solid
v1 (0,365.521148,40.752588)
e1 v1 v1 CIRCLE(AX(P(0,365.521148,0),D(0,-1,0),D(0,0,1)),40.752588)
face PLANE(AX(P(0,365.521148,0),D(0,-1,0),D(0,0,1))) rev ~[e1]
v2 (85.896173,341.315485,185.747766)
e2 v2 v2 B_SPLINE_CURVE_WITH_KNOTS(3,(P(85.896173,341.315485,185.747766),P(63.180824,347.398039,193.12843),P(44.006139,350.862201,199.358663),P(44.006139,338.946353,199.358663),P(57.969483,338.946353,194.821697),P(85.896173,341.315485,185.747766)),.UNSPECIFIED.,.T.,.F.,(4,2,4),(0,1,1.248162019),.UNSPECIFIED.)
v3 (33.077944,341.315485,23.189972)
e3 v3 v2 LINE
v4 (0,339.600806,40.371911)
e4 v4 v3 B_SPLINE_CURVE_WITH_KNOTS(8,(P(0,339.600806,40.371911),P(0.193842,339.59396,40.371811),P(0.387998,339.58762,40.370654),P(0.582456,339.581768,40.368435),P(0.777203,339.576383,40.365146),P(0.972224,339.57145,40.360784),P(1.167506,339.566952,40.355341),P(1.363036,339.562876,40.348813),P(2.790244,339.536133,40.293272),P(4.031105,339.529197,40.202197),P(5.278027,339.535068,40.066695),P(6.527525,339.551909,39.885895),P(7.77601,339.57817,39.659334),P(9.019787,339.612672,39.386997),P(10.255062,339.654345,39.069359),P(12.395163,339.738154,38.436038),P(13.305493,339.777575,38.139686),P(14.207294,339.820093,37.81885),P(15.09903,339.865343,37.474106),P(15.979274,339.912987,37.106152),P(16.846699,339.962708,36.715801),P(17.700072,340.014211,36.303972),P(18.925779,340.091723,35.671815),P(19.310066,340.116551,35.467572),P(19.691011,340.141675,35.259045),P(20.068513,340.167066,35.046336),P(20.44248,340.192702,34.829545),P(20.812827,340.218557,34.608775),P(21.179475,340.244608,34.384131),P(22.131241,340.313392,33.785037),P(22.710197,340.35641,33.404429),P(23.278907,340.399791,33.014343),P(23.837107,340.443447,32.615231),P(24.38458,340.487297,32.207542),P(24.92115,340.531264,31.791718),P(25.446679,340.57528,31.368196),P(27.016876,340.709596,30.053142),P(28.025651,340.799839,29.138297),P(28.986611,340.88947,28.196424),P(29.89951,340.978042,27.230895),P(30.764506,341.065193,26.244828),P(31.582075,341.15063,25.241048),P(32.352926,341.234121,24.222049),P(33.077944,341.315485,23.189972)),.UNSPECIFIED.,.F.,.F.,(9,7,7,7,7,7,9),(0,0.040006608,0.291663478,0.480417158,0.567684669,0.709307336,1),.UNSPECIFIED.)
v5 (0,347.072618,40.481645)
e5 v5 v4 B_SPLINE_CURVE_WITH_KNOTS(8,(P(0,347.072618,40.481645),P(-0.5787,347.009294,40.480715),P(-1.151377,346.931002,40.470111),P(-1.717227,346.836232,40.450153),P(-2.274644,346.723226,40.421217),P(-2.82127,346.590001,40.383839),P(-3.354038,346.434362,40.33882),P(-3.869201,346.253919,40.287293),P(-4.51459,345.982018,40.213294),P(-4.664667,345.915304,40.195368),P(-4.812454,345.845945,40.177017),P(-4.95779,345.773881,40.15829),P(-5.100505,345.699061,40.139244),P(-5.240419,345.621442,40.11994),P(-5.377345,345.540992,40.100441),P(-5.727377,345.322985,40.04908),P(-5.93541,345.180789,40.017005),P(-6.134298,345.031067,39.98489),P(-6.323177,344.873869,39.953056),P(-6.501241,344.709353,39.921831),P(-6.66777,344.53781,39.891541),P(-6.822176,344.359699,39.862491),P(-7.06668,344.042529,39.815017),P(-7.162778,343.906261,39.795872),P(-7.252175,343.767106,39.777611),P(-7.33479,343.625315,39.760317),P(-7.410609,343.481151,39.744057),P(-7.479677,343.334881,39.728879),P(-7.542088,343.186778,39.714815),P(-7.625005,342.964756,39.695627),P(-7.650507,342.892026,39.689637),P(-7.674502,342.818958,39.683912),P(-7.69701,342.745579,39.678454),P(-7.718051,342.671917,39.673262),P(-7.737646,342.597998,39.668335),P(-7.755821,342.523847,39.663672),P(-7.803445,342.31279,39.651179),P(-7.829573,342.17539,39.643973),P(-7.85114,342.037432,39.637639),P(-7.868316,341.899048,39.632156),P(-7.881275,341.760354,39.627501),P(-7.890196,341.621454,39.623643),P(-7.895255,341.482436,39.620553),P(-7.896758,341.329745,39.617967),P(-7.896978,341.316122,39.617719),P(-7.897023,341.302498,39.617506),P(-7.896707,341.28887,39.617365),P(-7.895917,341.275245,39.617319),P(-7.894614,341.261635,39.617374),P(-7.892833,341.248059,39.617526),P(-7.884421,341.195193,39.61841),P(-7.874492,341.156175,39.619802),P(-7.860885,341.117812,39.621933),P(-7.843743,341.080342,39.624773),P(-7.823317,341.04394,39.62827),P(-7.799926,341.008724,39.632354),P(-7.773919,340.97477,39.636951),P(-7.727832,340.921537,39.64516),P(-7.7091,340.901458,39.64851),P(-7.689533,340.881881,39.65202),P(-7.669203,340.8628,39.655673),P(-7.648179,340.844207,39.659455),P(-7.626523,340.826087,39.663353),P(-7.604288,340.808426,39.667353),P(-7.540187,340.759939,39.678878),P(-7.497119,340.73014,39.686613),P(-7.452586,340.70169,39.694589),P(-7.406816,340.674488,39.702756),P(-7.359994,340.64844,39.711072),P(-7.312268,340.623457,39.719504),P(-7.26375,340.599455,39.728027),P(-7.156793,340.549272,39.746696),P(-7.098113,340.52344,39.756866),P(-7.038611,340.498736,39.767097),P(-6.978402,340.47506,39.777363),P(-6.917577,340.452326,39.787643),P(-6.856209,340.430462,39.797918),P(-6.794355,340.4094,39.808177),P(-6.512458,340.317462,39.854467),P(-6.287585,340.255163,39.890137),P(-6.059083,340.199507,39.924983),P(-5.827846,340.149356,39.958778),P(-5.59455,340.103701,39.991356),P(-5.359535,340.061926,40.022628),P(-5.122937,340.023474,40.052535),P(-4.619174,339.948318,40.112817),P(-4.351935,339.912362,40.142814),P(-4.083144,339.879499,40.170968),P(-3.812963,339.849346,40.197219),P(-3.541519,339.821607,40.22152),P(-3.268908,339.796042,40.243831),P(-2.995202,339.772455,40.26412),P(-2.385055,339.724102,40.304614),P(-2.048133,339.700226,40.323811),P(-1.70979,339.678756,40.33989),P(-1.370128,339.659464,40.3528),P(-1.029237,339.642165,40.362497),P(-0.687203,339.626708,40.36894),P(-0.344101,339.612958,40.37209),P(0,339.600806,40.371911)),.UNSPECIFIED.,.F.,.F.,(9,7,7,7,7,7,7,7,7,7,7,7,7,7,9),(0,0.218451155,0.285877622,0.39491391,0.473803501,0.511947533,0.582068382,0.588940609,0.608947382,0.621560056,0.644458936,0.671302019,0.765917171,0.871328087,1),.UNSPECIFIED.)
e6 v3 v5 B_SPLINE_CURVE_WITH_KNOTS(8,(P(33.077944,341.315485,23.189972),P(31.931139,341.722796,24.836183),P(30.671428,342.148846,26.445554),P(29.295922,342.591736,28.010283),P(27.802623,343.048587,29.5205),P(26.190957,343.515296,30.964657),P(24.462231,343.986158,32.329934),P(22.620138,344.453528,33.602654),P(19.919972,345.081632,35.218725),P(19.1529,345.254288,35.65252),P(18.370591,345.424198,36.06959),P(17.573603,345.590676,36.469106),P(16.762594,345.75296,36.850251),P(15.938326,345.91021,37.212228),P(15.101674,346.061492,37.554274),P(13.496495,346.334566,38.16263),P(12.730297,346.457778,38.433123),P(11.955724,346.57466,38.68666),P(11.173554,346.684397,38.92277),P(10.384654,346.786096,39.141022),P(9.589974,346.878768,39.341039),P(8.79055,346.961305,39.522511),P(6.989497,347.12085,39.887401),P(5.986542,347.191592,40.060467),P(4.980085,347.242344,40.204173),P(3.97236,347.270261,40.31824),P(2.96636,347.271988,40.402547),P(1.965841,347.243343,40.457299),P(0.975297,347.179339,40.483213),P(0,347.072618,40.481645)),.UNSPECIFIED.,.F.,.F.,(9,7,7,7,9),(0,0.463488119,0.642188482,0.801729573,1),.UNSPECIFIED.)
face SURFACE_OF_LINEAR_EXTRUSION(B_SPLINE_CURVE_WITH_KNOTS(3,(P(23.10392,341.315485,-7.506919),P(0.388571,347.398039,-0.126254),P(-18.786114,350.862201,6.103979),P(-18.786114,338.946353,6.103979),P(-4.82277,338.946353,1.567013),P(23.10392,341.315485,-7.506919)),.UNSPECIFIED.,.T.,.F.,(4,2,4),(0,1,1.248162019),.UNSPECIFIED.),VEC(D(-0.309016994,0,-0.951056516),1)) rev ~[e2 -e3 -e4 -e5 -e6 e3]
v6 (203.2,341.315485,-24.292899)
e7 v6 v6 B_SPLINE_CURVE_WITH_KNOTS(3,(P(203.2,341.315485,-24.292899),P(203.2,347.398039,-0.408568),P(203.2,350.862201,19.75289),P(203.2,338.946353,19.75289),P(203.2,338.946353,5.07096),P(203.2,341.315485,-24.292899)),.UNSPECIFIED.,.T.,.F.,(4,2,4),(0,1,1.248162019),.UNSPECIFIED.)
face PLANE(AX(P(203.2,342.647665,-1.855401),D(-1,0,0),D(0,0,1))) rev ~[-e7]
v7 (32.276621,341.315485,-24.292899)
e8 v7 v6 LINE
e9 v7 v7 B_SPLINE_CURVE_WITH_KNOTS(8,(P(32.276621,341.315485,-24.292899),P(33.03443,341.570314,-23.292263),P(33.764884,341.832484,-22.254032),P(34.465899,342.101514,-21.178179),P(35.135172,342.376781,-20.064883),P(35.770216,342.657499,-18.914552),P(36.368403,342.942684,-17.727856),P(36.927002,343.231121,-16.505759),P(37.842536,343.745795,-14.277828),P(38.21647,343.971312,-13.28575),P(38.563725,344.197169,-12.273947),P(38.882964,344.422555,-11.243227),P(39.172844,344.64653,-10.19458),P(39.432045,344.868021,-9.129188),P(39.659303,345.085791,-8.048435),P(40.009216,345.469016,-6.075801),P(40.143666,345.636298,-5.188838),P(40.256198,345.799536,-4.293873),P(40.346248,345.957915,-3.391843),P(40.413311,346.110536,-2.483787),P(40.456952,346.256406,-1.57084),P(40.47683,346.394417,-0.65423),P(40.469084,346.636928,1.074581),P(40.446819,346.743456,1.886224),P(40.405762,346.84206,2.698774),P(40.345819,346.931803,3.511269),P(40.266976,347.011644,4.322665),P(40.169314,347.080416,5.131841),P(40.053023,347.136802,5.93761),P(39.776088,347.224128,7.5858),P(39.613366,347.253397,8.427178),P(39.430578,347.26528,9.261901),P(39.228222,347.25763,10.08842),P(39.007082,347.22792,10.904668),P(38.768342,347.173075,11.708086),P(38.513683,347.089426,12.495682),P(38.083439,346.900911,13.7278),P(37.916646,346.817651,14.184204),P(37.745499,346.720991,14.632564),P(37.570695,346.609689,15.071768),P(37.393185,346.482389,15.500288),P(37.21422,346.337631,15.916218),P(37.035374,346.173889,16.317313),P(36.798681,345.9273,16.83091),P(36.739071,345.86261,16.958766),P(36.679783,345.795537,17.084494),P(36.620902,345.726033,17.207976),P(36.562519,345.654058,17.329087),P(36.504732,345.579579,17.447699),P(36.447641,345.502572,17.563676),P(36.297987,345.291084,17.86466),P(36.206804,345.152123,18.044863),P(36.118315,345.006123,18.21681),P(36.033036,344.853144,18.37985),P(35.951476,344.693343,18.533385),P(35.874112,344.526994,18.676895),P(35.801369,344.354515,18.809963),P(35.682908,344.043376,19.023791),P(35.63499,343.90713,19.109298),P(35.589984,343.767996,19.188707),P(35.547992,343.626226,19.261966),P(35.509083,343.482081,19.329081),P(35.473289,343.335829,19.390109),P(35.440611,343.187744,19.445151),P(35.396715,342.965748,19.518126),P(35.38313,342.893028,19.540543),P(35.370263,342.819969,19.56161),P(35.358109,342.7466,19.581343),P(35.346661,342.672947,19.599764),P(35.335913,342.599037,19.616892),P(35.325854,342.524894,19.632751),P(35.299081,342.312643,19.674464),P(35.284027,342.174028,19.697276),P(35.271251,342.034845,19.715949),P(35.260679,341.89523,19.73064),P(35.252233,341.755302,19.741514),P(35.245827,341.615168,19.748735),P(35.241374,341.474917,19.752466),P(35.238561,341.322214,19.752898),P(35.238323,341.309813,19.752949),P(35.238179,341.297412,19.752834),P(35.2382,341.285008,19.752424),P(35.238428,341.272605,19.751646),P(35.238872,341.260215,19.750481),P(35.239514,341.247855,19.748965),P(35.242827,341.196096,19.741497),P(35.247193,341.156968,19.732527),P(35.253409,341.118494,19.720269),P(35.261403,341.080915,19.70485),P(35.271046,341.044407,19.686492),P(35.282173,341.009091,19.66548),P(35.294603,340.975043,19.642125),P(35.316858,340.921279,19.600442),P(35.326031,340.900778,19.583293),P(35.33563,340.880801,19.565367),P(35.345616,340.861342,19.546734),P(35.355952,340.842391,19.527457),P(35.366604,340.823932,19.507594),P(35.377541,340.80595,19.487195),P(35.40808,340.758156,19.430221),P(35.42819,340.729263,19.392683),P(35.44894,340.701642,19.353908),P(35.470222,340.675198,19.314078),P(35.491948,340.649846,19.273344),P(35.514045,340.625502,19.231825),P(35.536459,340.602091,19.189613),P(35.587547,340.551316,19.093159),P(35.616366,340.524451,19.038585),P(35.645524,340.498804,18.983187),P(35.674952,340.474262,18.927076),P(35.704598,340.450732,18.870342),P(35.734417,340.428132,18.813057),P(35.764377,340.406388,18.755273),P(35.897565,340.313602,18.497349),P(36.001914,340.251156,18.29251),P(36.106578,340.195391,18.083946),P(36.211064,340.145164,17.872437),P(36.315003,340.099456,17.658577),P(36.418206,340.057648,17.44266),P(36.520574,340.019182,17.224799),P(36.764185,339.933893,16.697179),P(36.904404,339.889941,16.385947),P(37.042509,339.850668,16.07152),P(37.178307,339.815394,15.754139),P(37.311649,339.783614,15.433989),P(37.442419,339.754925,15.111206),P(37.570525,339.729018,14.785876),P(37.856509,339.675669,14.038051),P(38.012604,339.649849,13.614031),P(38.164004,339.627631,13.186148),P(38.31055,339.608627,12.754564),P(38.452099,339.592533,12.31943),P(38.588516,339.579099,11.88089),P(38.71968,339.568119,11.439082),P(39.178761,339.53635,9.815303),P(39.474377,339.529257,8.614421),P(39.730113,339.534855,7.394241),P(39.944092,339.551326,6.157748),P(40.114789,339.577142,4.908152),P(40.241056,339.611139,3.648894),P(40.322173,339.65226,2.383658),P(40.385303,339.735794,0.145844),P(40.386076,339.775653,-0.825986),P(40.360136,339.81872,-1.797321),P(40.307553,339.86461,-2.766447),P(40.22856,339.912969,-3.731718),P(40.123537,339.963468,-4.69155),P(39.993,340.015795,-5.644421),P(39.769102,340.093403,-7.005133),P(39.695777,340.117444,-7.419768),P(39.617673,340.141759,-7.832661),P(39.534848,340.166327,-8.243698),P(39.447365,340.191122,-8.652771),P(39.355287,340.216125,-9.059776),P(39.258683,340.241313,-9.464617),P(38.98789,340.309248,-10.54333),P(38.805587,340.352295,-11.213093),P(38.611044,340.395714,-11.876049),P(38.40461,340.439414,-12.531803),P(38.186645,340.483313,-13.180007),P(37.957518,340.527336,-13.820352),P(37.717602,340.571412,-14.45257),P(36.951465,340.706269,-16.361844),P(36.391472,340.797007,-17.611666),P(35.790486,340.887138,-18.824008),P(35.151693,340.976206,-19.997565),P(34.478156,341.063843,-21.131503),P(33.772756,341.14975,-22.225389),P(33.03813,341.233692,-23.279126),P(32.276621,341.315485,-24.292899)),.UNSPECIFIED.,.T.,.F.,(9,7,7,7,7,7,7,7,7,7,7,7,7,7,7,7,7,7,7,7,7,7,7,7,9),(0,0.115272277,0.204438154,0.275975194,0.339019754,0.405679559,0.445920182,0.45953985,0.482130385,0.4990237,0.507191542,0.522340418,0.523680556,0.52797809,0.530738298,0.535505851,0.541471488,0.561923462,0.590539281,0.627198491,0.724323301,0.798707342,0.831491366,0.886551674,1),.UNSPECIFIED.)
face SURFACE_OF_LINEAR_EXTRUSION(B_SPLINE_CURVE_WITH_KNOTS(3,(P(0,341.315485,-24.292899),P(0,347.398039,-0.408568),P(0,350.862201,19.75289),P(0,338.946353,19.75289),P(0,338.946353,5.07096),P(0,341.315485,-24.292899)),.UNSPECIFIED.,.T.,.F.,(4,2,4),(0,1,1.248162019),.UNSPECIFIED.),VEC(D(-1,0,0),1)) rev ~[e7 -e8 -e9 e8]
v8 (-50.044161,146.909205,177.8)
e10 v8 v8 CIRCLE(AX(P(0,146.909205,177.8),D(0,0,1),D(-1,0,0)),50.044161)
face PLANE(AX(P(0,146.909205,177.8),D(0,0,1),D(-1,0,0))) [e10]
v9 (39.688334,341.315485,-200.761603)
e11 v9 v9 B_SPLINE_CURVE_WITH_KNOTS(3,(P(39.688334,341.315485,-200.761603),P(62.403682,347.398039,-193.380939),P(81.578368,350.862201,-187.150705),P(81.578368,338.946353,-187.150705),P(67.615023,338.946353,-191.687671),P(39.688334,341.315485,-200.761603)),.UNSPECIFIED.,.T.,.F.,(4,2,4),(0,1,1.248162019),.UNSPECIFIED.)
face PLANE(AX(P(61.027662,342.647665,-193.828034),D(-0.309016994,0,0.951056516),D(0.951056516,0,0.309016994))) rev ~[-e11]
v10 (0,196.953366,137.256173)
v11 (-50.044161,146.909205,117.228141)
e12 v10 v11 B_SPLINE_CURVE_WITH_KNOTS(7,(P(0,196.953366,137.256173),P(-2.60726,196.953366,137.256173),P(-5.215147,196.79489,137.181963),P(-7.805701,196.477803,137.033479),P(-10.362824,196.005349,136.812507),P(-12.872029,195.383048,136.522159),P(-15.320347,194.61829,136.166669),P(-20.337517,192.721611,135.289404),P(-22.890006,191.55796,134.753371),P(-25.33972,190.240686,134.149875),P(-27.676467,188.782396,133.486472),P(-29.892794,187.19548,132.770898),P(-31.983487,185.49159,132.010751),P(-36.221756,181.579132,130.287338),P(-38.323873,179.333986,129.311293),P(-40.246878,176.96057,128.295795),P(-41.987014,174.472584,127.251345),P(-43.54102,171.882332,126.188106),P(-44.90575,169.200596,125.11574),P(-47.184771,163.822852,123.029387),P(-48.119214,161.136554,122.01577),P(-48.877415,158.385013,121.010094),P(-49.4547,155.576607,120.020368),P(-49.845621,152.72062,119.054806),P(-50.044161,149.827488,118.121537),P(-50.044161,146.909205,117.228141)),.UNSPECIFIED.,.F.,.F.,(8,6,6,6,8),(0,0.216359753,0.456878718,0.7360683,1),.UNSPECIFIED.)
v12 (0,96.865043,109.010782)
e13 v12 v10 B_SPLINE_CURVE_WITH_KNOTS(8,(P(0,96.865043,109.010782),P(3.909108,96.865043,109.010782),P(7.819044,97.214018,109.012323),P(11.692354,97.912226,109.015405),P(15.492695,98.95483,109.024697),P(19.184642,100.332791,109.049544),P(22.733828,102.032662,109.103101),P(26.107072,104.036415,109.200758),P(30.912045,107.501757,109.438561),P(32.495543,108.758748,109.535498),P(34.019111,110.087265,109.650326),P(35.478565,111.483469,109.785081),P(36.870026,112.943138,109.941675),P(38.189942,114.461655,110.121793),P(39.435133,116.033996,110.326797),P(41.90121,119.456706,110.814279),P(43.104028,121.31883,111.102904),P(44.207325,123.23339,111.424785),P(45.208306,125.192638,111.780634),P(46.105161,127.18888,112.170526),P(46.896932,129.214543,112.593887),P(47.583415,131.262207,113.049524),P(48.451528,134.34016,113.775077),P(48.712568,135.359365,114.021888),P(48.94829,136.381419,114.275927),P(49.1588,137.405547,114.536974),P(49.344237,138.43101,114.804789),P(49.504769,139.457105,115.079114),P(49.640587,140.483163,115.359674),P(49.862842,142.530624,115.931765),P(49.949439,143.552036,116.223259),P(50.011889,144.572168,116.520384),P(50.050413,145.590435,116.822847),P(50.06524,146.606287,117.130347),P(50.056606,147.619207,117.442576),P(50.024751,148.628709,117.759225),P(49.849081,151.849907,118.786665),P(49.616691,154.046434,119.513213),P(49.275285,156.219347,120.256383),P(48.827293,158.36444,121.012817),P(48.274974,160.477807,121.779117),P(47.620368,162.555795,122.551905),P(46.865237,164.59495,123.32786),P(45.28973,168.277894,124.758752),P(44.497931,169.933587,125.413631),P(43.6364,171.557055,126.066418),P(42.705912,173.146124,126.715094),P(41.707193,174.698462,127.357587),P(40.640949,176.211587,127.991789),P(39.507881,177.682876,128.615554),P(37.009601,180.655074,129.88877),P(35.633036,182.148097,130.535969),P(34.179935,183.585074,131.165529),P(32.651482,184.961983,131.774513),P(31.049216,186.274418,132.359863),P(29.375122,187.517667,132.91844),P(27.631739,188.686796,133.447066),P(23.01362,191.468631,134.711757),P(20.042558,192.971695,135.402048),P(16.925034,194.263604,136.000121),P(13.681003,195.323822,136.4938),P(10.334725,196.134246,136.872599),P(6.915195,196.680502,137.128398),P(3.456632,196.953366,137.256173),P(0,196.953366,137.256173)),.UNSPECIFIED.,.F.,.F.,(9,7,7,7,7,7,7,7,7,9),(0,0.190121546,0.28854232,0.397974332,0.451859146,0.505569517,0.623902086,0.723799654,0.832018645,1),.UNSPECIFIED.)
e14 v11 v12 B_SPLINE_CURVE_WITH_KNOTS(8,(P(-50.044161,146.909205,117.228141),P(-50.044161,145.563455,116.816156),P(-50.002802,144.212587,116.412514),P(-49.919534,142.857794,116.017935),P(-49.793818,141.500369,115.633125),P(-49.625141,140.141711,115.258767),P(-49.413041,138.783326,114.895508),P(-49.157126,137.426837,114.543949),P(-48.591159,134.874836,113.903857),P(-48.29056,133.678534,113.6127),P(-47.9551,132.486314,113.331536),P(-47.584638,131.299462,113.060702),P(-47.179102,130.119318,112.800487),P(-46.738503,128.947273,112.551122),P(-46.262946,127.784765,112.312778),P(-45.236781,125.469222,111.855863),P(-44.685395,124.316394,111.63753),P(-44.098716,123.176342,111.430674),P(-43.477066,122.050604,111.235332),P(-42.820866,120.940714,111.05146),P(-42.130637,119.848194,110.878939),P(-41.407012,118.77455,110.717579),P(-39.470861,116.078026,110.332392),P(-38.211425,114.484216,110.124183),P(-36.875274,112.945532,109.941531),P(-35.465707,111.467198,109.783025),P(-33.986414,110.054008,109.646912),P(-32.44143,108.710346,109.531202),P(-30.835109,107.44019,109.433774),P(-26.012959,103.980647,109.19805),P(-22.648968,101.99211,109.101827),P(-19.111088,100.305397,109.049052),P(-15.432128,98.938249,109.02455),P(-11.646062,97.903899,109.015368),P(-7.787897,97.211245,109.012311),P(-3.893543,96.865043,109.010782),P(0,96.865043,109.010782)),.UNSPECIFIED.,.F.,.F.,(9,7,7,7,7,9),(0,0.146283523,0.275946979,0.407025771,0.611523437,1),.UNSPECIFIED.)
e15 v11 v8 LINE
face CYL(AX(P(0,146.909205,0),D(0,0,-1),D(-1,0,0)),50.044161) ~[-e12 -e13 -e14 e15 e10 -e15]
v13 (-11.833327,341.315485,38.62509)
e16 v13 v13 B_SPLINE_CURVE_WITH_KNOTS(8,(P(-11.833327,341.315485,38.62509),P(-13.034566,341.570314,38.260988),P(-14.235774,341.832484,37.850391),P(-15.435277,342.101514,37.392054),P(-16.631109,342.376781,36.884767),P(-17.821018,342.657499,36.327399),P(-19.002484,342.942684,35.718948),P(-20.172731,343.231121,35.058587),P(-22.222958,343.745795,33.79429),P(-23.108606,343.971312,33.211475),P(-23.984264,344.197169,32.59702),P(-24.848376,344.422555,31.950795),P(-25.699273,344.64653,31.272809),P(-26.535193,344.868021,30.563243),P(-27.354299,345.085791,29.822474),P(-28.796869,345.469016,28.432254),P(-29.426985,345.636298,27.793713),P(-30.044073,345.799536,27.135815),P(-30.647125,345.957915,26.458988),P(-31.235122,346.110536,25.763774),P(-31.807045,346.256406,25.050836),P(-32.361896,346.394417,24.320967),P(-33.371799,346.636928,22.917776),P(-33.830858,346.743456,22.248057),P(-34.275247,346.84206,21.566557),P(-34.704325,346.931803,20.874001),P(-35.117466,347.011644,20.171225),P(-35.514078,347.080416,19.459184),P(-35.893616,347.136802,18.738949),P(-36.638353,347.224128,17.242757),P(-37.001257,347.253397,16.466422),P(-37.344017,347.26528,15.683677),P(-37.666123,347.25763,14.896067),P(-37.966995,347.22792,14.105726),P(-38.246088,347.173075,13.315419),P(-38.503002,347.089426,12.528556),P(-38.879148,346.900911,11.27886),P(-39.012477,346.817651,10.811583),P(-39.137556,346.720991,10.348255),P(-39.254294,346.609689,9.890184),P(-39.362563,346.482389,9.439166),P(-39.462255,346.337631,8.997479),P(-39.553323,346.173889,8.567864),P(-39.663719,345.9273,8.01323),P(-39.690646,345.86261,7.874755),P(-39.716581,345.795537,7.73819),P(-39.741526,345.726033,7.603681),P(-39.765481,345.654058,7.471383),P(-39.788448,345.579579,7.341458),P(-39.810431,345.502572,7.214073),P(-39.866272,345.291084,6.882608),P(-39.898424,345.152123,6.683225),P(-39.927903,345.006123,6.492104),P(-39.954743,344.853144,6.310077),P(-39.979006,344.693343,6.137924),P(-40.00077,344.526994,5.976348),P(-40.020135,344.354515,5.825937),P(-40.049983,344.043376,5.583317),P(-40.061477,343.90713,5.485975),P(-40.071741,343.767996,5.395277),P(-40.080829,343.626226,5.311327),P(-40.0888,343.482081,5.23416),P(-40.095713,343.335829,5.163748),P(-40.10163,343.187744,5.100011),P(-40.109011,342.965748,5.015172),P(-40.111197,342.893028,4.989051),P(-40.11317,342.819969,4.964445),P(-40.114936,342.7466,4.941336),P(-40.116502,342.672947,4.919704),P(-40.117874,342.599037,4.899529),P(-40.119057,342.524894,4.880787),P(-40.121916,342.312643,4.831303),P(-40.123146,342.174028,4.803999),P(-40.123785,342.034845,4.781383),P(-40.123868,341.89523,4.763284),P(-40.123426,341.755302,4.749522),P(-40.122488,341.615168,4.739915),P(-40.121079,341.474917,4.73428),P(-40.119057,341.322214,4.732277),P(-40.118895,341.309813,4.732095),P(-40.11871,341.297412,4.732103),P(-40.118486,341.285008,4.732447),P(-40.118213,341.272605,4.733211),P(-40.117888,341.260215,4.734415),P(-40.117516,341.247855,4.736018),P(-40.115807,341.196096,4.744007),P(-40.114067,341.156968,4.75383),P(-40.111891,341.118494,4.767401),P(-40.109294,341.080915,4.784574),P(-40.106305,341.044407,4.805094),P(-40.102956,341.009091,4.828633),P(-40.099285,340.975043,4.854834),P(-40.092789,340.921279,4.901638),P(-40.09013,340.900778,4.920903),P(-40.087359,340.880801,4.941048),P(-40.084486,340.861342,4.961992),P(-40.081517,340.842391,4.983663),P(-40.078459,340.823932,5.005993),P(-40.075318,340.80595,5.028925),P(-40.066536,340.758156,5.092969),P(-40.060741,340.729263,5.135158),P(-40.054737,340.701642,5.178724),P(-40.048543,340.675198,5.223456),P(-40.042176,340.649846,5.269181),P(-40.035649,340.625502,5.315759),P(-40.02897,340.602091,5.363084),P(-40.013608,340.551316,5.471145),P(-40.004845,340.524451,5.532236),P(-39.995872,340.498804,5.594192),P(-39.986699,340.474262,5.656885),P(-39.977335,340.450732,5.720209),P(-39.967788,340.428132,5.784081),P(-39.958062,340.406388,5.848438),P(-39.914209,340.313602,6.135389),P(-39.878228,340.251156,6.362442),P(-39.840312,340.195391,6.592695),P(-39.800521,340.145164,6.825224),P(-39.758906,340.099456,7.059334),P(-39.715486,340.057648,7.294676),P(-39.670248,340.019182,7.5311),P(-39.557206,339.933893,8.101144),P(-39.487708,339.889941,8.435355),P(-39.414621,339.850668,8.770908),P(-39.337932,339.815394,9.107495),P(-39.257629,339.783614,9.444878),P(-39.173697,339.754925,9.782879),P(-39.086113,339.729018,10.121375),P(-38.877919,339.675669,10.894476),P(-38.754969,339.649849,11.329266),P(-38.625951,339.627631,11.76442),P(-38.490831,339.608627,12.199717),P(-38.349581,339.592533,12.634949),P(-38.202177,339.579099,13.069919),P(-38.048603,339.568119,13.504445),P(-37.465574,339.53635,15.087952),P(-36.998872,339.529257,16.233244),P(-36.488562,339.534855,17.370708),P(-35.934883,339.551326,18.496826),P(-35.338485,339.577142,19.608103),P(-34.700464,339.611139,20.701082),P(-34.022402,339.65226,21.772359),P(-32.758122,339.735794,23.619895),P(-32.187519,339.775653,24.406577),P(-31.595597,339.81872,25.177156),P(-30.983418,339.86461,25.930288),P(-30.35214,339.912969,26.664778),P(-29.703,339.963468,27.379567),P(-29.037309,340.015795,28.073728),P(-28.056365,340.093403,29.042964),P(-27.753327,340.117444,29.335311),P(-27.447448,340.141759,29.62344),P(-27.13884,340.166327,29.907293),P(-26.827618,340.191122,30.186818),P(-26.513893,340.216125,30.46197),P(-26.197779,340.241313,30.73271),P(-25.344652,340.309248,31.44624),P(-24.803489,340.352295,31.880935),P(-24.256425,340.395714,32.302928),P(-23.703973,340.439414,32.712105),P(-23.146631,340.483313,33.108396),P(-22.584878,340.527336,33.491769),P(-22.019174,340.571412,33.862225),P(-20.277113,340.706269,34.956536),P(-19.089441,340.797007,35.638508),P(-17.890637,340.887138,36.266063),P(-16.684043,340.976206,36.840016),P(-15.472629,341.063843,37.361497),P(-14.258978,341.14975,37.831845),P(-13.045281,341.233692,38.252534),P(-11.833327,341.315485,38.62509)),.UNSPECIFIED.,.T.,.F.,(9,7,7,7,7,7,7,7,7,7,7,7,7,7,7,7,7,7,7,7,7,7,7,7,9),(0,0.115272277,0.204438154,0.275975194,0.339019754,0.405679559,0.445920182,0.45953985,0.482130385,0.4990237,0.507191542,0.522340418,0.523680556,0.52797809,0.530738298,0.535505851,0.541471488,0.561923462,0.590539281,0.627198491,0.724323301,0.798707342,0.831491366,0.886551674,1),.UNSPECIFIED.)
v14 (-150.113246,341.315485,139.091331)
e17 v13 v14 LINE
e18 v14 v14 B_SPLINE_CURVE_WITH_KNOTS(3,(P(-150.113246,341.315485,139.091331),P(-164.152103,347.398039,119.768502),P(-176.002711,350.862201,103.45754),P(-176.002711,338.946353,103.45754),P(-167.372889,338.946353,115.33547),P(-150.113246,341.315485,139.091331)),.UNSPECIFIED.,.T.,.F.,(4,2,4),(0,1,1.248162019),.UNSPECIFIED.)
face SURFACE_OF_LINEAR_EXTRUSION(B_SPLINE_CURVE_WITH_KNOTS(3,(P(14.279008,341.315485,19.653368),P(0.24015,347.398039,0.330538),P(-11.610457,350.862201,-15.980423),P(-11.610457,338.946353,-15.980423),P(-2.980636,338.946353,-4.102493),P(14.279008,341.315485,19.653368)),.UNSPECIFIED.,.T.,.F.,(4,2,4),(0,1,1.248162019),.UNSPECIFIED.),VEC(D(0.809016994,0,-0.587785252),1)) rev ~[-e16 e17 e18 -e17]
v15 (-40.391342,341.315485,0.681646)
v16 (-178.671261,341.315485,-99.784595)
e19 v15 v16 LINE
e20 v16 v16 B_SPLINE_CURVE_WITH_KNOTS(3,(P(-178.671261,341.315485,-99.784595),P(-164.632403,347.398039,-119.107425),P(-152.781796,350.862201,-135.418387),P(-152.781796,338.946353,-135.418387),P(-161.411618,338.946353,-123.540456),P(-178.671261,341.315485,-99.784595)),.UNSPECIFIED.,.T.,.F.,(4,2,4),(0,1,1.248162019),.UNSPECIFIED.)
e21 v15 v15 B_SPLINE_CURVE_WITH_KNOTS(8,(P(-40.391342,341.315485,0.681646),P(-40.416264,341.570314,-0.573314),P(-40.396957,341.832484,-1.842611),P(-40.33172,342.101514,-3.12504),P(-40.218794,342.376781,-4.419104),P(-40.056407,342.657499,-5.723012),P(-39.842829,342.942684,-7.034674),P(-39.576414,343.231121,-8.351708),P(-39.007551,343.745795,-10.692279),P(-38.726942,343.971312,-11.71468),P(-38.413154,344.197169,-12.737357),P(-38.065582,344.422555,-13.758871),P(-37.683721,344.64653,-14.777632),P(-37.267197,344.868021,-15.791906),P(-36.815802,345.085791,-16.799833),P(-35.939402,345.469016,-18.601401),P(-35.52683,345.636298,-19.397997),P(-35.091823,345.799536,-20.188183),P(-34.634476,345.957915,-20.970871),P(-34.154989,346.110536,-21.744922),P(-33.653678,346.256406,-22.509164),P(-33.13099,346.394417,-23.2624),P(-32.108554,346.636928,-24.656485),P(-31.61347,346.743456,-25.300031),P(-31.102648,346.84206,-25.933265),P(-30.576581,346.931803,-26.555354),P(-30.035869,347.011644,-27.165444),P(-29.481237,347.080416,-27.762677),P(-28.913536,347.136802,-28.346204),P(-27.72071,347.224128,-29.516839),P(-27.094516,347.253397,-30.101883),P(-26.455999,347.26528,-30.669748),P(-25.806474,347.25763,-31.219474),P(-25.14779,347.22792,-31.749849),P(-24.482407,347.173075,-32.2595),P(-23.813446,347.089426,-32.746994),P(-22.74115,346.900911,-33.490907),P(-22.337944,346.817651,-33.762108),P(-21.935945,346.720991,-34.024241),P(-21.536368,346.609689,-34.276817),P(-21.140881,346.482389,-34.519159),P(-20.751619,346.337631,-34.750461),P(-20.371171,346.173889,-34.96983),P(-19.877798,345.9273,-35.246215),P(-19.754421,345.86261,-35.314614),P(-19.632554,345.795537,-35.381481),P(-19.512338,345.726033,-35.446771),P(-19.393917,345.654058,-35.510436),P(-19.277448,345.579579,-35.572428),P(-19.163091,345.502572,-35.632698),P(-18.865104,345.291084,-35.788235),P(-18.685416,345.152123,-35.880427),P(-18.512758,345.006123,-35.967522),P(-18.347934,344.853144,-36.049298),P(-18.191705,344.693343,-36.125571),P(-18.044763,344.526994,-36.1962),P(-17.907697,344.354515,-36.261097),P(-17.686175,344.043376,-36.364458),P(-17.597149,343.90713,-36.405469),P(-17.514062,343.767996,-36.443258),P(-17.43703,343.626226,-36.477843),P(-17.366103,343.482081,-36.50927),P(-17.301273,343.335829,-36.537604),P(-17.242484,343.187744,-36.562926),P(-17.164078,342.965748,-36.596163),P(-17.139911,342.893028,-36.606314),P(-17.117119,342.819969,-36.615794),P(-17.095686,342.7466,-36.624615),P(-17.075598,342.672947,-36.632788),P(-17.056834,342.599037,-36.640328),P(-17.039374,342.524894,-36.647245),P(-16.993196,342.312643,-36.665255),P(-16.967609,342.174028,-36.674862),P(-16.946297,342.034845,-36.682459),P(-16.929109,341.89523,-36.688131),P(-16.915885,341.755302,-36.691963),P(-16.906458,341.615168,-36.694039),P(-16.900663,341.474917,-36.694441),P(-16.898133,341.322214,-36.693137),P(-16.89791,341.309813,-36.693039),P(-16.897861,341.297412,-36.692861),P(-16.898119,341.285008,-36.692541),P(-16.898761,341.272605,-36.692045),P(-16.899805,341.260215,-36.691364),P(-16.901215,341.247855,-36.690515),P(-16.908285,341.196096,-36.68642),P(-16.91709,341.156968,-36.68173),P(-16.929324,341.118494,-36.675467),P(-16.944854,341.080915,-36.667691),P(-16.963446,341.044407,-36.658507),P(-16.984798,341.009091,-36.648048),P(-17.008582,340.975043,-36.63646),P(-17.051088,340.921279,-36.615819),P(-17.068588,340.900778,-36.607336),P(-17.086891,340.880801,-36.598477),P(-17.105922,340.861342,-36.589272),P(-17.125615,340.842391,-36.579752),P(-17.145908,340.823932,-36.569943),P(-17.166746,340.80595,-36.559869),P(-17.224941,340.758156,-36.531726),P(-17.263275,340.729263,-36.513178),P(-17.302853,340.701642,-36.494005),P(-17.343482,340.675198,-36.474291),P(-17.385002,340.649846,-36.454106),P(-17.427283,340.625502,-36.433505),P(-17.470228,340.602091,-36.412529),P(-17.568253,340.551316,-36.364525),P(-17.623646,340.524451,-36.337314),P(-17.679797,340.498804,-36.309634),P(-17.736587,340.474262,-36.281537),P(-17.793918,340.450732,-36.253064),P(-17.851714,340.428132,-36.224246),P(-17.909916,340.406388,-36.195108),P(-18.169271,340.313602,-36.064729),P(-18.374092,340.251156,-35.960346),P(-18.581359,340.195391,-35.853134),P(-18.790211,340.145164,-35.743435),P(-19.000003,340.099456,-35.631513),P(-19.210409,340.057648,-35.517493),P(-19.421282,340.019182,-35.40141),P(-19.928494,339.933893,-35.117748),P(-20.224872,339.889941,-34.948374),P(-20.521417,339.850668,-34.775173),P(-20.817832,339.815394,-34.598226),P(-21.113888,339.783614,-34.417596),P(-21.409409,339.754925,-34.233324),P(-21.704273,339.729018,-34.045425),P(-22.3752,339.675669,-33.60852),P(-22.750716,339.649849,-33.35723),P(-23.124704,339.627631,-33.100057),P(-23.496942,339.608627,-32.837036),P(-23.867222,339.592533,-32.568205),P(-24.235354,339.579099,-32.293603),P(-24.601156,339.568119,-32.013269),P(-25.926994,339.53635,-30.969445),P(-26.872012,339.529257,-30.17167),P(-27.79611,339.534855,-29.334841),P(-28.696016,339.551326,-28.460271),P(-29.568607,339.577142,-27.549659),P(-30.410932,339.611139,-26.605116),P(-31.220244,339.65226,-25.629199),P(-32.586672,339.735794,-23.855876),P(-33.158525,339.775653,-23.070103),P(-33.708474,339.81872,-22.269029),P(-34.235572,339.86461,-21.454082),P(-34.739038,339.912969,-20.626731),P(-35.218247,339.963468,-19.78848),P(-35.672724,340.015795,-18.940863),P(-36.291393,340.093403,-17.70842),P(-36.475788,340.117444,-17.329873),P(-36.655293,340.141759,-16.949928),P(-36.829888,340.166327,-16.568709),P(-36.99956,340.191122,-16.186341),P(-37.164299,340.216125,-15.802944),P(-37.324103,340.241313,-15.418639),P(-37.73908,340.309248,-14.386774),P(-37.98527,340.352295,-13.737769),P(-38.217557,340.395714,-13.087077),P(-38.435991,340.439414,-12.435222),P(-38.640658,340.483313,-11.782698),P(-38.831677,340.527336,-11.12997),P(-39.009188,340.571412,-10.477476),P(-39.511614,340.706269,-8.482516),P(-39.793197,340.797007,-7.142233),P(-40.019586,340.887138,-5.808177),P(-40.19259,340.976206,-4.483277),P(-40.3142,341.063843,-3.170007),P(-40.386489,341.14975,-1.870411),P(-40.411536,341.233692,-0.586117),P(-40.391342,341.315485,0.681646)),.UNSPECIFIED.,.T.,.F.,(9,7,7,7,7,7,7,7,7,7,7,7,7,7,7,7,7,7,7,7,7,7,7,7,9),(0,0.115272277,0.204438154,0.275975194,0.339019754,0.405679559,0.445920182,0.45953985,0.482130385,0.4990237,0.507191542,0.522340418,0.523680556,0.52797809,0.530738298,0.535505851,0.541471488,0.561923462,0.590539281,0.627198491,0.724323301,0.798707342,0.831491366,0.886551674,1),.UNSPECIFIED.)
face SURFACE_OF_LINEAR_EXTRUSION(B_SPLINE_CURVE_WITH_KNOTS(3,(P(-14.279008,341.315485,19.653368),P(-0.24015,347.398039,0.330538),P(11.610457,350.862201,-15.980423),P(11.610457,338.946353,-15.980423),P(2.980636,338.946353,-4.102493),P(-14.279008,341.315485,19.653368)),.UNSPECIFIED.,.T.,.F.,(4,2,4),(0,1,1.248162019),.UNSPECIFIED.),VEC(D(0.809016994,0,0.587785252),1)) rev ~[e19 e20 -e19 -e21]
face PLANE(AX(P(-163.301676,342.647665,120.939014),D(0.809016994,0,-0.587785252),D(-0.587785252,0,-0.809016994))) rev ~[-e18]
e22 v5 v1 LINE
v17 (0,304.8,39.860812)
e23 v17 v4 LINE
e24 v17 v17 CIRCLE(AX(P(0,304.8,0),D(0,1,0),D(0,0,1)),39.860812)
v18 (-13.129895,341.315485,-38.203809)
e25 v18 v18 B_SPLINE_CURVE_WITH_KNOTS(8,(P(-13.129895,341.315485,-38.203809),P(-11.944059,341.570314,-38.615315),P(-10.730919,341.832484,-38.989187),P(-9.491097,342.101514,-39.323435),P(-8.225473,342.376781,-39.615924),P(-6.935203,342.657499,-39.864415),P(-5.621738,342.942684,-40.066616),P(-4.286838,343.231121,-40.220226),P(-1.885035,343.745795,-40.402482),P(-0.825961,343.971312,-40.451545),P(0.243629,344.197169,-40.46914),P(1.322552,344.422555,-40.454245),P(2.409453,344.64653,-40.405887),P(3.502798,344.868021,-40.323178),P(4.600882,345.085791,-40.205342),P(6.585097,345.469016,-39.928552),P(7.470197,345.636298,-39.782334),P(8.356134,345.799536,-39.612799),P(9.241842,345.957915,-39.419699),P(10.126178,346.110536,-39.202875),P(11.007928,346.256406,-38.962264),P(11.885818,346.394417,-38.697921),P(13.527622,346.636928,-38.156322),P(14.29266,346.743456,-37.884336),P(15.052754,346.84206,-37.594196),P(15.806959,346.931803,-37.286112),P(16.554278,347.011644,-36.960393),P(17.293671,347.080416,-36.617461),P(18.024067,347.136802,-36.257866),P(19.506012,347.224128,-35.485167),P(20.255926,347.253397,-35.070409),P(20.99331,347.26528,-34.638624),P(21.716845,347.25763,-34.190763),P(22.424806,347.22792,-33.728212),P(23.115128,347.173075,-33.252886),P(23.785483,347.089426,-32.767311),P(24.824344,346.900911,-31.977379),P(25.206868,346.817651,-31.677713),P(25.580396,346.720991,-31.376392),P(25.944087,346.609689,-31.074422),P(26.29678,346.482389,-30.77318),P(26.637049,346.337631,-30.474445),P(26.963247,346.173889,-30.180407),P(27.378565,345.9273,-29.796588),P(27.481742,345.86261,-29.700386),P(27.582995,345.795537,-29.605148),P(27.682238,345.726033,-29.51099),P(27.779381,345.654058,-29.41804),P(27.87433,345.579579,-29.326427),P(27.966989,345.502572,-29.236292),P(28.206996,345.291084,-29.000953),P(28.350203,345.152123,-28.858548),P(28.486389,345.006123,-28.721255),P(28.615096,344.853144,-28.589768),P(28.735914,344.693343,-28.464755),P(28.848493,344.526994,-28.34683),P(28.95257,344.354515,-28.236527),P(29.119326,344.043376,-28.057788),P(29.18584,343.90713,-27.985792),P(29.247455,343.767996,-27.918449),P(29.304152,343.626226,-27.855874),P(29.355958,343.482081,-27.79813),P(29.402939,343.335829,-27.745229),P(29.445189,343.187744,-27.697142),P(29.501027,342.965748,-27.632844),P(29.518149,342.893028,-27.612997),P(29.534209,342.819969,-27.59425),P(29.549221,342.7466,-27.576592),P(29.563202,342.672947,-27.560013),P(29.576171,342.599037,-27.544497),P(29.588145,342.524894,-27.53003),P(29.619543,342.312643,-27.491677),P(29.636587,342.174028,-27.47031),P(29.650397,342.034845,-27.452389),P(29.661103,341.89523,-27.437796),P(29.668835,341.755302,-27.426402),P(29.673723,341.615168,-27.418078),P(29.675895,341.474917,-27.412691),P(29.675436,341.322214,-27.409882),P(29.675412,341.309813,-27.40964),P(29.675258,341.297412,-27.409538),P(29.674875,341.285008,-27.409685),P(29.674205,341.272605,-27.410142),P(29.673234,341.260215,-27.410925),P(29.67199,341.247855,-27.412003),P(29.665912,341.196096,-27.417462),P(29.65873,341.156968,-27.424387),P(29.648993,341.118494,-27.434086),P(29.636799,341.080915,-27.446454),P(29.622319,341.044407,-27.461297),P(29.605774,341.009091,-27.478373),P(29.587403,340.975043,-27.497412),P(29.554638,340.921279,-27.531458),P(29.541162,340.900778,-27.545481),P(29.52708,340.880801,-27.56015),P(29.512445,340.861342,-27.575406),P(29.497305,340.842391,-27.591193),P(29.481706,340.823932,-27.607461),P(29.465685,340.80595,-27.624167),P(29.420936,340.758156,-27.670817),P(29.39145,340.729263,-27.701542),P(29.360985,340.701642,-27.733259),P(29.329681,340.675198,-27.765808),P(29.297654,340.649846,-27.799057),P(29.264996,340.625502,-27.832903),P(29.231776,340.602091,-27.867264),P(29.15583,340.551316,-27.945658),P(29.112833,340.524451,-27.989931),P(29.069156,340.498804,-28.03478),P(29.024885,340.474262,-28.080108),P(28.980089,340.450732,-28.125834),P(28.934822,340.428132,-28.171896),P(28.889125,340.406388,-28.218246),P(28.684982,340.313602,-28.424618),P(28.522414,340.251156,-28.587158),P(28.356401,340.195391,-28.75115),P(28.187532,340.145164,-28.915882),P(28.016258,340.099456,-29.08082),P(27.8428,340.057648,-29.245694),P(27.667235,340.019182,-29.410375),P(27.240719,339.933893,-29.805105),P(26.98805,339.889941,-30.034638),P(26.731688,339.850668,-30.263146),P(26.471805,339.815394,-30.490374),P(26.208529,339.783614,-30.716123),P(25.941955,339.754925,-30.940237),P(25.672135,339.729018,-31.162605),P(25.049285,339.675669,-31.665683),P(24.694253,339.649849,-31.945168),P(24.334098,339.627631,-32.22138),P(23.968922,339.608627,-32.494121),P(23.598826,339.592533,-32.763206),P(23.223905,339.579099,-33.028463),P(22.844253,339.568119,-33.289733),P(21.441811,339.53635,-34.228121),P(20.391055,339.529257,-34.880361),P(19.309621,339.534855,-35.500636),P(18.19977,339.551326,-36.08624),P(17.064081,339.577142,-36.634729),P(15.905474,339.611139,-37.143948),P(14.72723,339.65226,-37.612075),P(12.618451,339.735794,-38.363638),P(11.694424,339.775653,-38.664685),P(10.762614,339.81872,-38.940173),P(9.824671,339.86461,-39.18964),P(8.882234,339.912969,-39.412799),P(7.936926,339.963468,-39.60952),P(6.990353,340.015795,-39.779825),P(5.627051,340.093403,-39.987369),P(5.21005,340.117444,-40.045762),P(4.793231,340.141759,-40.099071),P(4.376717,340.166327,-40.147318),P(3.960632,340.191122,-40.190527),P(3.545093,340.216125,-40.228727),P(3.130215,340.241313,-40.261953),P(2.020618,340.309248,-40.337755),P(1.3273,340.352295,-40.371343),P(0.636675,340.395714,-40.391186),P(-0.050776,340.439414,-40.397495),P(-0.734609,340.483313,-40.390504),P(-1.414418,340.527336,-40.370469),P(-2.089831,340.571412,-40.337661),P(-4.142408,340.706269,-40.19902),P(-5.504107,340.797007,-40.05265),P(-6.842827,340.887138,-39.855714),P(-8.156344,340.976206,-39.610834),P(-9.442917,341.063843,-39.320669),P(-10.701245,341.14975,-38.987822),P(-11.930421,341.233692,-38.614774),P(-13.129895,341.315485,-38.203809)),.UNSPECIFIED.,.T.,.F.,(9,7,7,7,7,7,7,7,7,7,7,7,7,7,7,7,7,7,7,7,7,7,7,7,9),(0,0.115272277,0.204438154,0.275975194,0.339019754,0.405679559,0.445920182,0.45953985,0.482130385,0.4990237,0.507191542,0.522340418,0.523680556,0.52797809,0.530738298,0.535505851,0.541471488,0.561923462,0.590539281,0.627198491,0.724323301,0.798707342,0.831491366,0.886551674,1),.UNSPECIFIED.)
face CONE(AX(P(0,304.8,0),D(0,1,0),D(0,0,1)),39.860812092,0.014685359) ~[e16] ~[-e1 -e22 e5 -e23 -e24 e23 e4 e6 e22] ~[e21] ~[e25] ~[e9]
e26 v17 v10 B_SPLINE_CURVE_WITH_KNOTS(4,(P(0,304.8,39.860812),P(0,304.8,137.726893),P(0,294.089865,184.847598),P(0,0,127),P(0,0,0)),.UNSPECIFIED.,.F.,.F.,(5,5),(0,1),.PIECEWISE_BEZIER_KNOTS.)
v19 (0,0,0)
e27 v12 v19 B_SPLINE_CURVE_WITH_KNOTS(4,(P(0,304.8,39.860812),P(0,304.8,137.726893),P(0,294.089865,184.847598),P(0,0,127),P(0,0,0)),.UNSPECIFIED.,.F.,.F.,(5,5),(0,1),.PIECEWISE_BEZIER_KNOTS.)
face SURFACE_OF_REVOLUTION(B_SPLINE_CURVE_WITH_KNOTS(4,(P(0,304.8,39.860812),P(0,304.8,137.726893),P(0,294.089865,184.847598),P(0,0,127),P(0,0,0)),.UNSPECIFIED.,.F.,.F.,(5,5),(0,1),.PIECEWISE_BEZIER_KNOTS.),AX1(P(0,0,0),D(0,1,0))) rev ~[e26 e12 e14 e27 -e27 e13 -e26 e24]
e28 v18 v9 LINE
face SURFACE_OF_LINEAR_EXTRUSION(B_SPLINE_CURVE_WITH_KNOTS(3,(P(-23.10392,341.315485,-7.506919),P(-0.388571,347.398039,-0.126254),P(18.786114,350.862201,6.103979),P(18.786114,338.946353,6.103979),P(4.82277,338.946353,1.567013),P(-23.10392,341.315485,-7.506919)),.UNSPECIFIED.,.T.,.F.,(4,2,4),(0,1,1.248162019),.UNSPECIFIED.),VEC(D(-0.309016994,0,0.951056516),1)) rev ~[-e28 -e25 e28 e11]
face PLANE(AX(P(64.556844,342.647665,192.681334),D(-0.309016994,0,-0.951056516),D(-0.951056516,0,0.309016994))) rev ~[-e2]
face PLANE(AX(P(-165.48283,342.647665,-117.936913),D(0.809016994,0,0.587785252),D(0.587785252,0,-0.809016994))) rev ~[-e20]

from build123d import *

# Parameters (mm, degrees)
BOSS_EXTRUDE1_DEPTH = 203.2
CIRPATTERN1_COUNT   = 5
SKETCH4_R           = 50.04416113
BOSS_EXTRUDE2_DEPTH = 177.8


with BuildPart() as part:
    # Sketch1 → Revolve1 (revolve)
    with BuildSketch(Plane.XY, mode=Mode.PRIVATE) as revolve1_sk:
        with BuildLine():
            Line((39.860812092, 304.8), (0, 264.939187908))
            Line((0, 264.939187908), (0, 0))
            add(Edge.make_bspline(
                [(39.860812092, 304.8), (137.726892847, 304.8), (184.847598395, 294.089865409), (127, 0), (0, 0)],
                knots=[0, 0, 0, 0, 0, 1, 1, 1, 1, 1], degree=4))
        make_face()
    revolve(revolve1_sk.sketch.rotate(Axis((0, 0, 0), (0, 1, 0)), 270), axis=Axis((0, 0, 0), (0, 1, 0)))

    # Sketch2 → Revolve2 (revolve)
    with BuildSketch(Plane(origin=(0, 0, 0), x_dir=(0, 0, -1), z_dir=(1, 0, 0)), mode=Mode.PRIVATE) as revolve2_sk:
        Polygon((39.860812092, 304.8), (40.752588079, 365.521147905), (0, 365.521147905), (0, 264.939187908), align=None)
    revolve(revolve2_sk.sketch.rotate(Axis((0, 365.521147905, 0), (0, -1, 0)), 180), axis=Axis((0, 365.521147905, 0), (0, -1, 0)))

    # Sketch3 → Boss-Extrude1 (add)
    with BuildSketch(Plane(origin=(0, 0, 0), x_dir=(0, 0, -1), z_dir=(1, 0, 0))):
        with BuildLine():
            add(Edge.make_bspline(
                [(-19.752889725, 341.315485371), (-19.752889725, 350.862201435), (0.408567961, 347.398038579), (24.292898678, 341.315485371)],
                knots=[0, 0, 0, 0, 1, 1, 1, 1], degree=3))
            add(Edge.make_bspline(
                [(-19.752889725, 341.315485371), (-19.752889725, 337.761786872), (24.292898678, 341.315485371)],
                knots=[0, 0, 0, 1, 1, 1], degree=2))
        make_face()
    boss_extrude1 = extrude(amount=BOSS_EXTRUDE1_DEPTH)

    # CirPattern1: Boss-Extrude1 ×5 about axis
    cirpattern1_axis = Axis((0, 365.521147905, 0), (0, 1, 0))
    for i in range(1, CIRPATTERN1_COUNT):
        add(boss_extrude1.rotate(cirpattern1_axis, i * 360 / CIRPATTERN1_COUNT))

    # Sketch4 → Boss-Extrude2 (add)
    with BuildSketch(Plane.XY):
        with Locations(Location((0, 146.909204575, 0), (0, 0, 180))):
            Circle(SKETCH4_R)
    extrude(amount=BOSS_EXTRUDE2_DEPTH)


solid = part.part
